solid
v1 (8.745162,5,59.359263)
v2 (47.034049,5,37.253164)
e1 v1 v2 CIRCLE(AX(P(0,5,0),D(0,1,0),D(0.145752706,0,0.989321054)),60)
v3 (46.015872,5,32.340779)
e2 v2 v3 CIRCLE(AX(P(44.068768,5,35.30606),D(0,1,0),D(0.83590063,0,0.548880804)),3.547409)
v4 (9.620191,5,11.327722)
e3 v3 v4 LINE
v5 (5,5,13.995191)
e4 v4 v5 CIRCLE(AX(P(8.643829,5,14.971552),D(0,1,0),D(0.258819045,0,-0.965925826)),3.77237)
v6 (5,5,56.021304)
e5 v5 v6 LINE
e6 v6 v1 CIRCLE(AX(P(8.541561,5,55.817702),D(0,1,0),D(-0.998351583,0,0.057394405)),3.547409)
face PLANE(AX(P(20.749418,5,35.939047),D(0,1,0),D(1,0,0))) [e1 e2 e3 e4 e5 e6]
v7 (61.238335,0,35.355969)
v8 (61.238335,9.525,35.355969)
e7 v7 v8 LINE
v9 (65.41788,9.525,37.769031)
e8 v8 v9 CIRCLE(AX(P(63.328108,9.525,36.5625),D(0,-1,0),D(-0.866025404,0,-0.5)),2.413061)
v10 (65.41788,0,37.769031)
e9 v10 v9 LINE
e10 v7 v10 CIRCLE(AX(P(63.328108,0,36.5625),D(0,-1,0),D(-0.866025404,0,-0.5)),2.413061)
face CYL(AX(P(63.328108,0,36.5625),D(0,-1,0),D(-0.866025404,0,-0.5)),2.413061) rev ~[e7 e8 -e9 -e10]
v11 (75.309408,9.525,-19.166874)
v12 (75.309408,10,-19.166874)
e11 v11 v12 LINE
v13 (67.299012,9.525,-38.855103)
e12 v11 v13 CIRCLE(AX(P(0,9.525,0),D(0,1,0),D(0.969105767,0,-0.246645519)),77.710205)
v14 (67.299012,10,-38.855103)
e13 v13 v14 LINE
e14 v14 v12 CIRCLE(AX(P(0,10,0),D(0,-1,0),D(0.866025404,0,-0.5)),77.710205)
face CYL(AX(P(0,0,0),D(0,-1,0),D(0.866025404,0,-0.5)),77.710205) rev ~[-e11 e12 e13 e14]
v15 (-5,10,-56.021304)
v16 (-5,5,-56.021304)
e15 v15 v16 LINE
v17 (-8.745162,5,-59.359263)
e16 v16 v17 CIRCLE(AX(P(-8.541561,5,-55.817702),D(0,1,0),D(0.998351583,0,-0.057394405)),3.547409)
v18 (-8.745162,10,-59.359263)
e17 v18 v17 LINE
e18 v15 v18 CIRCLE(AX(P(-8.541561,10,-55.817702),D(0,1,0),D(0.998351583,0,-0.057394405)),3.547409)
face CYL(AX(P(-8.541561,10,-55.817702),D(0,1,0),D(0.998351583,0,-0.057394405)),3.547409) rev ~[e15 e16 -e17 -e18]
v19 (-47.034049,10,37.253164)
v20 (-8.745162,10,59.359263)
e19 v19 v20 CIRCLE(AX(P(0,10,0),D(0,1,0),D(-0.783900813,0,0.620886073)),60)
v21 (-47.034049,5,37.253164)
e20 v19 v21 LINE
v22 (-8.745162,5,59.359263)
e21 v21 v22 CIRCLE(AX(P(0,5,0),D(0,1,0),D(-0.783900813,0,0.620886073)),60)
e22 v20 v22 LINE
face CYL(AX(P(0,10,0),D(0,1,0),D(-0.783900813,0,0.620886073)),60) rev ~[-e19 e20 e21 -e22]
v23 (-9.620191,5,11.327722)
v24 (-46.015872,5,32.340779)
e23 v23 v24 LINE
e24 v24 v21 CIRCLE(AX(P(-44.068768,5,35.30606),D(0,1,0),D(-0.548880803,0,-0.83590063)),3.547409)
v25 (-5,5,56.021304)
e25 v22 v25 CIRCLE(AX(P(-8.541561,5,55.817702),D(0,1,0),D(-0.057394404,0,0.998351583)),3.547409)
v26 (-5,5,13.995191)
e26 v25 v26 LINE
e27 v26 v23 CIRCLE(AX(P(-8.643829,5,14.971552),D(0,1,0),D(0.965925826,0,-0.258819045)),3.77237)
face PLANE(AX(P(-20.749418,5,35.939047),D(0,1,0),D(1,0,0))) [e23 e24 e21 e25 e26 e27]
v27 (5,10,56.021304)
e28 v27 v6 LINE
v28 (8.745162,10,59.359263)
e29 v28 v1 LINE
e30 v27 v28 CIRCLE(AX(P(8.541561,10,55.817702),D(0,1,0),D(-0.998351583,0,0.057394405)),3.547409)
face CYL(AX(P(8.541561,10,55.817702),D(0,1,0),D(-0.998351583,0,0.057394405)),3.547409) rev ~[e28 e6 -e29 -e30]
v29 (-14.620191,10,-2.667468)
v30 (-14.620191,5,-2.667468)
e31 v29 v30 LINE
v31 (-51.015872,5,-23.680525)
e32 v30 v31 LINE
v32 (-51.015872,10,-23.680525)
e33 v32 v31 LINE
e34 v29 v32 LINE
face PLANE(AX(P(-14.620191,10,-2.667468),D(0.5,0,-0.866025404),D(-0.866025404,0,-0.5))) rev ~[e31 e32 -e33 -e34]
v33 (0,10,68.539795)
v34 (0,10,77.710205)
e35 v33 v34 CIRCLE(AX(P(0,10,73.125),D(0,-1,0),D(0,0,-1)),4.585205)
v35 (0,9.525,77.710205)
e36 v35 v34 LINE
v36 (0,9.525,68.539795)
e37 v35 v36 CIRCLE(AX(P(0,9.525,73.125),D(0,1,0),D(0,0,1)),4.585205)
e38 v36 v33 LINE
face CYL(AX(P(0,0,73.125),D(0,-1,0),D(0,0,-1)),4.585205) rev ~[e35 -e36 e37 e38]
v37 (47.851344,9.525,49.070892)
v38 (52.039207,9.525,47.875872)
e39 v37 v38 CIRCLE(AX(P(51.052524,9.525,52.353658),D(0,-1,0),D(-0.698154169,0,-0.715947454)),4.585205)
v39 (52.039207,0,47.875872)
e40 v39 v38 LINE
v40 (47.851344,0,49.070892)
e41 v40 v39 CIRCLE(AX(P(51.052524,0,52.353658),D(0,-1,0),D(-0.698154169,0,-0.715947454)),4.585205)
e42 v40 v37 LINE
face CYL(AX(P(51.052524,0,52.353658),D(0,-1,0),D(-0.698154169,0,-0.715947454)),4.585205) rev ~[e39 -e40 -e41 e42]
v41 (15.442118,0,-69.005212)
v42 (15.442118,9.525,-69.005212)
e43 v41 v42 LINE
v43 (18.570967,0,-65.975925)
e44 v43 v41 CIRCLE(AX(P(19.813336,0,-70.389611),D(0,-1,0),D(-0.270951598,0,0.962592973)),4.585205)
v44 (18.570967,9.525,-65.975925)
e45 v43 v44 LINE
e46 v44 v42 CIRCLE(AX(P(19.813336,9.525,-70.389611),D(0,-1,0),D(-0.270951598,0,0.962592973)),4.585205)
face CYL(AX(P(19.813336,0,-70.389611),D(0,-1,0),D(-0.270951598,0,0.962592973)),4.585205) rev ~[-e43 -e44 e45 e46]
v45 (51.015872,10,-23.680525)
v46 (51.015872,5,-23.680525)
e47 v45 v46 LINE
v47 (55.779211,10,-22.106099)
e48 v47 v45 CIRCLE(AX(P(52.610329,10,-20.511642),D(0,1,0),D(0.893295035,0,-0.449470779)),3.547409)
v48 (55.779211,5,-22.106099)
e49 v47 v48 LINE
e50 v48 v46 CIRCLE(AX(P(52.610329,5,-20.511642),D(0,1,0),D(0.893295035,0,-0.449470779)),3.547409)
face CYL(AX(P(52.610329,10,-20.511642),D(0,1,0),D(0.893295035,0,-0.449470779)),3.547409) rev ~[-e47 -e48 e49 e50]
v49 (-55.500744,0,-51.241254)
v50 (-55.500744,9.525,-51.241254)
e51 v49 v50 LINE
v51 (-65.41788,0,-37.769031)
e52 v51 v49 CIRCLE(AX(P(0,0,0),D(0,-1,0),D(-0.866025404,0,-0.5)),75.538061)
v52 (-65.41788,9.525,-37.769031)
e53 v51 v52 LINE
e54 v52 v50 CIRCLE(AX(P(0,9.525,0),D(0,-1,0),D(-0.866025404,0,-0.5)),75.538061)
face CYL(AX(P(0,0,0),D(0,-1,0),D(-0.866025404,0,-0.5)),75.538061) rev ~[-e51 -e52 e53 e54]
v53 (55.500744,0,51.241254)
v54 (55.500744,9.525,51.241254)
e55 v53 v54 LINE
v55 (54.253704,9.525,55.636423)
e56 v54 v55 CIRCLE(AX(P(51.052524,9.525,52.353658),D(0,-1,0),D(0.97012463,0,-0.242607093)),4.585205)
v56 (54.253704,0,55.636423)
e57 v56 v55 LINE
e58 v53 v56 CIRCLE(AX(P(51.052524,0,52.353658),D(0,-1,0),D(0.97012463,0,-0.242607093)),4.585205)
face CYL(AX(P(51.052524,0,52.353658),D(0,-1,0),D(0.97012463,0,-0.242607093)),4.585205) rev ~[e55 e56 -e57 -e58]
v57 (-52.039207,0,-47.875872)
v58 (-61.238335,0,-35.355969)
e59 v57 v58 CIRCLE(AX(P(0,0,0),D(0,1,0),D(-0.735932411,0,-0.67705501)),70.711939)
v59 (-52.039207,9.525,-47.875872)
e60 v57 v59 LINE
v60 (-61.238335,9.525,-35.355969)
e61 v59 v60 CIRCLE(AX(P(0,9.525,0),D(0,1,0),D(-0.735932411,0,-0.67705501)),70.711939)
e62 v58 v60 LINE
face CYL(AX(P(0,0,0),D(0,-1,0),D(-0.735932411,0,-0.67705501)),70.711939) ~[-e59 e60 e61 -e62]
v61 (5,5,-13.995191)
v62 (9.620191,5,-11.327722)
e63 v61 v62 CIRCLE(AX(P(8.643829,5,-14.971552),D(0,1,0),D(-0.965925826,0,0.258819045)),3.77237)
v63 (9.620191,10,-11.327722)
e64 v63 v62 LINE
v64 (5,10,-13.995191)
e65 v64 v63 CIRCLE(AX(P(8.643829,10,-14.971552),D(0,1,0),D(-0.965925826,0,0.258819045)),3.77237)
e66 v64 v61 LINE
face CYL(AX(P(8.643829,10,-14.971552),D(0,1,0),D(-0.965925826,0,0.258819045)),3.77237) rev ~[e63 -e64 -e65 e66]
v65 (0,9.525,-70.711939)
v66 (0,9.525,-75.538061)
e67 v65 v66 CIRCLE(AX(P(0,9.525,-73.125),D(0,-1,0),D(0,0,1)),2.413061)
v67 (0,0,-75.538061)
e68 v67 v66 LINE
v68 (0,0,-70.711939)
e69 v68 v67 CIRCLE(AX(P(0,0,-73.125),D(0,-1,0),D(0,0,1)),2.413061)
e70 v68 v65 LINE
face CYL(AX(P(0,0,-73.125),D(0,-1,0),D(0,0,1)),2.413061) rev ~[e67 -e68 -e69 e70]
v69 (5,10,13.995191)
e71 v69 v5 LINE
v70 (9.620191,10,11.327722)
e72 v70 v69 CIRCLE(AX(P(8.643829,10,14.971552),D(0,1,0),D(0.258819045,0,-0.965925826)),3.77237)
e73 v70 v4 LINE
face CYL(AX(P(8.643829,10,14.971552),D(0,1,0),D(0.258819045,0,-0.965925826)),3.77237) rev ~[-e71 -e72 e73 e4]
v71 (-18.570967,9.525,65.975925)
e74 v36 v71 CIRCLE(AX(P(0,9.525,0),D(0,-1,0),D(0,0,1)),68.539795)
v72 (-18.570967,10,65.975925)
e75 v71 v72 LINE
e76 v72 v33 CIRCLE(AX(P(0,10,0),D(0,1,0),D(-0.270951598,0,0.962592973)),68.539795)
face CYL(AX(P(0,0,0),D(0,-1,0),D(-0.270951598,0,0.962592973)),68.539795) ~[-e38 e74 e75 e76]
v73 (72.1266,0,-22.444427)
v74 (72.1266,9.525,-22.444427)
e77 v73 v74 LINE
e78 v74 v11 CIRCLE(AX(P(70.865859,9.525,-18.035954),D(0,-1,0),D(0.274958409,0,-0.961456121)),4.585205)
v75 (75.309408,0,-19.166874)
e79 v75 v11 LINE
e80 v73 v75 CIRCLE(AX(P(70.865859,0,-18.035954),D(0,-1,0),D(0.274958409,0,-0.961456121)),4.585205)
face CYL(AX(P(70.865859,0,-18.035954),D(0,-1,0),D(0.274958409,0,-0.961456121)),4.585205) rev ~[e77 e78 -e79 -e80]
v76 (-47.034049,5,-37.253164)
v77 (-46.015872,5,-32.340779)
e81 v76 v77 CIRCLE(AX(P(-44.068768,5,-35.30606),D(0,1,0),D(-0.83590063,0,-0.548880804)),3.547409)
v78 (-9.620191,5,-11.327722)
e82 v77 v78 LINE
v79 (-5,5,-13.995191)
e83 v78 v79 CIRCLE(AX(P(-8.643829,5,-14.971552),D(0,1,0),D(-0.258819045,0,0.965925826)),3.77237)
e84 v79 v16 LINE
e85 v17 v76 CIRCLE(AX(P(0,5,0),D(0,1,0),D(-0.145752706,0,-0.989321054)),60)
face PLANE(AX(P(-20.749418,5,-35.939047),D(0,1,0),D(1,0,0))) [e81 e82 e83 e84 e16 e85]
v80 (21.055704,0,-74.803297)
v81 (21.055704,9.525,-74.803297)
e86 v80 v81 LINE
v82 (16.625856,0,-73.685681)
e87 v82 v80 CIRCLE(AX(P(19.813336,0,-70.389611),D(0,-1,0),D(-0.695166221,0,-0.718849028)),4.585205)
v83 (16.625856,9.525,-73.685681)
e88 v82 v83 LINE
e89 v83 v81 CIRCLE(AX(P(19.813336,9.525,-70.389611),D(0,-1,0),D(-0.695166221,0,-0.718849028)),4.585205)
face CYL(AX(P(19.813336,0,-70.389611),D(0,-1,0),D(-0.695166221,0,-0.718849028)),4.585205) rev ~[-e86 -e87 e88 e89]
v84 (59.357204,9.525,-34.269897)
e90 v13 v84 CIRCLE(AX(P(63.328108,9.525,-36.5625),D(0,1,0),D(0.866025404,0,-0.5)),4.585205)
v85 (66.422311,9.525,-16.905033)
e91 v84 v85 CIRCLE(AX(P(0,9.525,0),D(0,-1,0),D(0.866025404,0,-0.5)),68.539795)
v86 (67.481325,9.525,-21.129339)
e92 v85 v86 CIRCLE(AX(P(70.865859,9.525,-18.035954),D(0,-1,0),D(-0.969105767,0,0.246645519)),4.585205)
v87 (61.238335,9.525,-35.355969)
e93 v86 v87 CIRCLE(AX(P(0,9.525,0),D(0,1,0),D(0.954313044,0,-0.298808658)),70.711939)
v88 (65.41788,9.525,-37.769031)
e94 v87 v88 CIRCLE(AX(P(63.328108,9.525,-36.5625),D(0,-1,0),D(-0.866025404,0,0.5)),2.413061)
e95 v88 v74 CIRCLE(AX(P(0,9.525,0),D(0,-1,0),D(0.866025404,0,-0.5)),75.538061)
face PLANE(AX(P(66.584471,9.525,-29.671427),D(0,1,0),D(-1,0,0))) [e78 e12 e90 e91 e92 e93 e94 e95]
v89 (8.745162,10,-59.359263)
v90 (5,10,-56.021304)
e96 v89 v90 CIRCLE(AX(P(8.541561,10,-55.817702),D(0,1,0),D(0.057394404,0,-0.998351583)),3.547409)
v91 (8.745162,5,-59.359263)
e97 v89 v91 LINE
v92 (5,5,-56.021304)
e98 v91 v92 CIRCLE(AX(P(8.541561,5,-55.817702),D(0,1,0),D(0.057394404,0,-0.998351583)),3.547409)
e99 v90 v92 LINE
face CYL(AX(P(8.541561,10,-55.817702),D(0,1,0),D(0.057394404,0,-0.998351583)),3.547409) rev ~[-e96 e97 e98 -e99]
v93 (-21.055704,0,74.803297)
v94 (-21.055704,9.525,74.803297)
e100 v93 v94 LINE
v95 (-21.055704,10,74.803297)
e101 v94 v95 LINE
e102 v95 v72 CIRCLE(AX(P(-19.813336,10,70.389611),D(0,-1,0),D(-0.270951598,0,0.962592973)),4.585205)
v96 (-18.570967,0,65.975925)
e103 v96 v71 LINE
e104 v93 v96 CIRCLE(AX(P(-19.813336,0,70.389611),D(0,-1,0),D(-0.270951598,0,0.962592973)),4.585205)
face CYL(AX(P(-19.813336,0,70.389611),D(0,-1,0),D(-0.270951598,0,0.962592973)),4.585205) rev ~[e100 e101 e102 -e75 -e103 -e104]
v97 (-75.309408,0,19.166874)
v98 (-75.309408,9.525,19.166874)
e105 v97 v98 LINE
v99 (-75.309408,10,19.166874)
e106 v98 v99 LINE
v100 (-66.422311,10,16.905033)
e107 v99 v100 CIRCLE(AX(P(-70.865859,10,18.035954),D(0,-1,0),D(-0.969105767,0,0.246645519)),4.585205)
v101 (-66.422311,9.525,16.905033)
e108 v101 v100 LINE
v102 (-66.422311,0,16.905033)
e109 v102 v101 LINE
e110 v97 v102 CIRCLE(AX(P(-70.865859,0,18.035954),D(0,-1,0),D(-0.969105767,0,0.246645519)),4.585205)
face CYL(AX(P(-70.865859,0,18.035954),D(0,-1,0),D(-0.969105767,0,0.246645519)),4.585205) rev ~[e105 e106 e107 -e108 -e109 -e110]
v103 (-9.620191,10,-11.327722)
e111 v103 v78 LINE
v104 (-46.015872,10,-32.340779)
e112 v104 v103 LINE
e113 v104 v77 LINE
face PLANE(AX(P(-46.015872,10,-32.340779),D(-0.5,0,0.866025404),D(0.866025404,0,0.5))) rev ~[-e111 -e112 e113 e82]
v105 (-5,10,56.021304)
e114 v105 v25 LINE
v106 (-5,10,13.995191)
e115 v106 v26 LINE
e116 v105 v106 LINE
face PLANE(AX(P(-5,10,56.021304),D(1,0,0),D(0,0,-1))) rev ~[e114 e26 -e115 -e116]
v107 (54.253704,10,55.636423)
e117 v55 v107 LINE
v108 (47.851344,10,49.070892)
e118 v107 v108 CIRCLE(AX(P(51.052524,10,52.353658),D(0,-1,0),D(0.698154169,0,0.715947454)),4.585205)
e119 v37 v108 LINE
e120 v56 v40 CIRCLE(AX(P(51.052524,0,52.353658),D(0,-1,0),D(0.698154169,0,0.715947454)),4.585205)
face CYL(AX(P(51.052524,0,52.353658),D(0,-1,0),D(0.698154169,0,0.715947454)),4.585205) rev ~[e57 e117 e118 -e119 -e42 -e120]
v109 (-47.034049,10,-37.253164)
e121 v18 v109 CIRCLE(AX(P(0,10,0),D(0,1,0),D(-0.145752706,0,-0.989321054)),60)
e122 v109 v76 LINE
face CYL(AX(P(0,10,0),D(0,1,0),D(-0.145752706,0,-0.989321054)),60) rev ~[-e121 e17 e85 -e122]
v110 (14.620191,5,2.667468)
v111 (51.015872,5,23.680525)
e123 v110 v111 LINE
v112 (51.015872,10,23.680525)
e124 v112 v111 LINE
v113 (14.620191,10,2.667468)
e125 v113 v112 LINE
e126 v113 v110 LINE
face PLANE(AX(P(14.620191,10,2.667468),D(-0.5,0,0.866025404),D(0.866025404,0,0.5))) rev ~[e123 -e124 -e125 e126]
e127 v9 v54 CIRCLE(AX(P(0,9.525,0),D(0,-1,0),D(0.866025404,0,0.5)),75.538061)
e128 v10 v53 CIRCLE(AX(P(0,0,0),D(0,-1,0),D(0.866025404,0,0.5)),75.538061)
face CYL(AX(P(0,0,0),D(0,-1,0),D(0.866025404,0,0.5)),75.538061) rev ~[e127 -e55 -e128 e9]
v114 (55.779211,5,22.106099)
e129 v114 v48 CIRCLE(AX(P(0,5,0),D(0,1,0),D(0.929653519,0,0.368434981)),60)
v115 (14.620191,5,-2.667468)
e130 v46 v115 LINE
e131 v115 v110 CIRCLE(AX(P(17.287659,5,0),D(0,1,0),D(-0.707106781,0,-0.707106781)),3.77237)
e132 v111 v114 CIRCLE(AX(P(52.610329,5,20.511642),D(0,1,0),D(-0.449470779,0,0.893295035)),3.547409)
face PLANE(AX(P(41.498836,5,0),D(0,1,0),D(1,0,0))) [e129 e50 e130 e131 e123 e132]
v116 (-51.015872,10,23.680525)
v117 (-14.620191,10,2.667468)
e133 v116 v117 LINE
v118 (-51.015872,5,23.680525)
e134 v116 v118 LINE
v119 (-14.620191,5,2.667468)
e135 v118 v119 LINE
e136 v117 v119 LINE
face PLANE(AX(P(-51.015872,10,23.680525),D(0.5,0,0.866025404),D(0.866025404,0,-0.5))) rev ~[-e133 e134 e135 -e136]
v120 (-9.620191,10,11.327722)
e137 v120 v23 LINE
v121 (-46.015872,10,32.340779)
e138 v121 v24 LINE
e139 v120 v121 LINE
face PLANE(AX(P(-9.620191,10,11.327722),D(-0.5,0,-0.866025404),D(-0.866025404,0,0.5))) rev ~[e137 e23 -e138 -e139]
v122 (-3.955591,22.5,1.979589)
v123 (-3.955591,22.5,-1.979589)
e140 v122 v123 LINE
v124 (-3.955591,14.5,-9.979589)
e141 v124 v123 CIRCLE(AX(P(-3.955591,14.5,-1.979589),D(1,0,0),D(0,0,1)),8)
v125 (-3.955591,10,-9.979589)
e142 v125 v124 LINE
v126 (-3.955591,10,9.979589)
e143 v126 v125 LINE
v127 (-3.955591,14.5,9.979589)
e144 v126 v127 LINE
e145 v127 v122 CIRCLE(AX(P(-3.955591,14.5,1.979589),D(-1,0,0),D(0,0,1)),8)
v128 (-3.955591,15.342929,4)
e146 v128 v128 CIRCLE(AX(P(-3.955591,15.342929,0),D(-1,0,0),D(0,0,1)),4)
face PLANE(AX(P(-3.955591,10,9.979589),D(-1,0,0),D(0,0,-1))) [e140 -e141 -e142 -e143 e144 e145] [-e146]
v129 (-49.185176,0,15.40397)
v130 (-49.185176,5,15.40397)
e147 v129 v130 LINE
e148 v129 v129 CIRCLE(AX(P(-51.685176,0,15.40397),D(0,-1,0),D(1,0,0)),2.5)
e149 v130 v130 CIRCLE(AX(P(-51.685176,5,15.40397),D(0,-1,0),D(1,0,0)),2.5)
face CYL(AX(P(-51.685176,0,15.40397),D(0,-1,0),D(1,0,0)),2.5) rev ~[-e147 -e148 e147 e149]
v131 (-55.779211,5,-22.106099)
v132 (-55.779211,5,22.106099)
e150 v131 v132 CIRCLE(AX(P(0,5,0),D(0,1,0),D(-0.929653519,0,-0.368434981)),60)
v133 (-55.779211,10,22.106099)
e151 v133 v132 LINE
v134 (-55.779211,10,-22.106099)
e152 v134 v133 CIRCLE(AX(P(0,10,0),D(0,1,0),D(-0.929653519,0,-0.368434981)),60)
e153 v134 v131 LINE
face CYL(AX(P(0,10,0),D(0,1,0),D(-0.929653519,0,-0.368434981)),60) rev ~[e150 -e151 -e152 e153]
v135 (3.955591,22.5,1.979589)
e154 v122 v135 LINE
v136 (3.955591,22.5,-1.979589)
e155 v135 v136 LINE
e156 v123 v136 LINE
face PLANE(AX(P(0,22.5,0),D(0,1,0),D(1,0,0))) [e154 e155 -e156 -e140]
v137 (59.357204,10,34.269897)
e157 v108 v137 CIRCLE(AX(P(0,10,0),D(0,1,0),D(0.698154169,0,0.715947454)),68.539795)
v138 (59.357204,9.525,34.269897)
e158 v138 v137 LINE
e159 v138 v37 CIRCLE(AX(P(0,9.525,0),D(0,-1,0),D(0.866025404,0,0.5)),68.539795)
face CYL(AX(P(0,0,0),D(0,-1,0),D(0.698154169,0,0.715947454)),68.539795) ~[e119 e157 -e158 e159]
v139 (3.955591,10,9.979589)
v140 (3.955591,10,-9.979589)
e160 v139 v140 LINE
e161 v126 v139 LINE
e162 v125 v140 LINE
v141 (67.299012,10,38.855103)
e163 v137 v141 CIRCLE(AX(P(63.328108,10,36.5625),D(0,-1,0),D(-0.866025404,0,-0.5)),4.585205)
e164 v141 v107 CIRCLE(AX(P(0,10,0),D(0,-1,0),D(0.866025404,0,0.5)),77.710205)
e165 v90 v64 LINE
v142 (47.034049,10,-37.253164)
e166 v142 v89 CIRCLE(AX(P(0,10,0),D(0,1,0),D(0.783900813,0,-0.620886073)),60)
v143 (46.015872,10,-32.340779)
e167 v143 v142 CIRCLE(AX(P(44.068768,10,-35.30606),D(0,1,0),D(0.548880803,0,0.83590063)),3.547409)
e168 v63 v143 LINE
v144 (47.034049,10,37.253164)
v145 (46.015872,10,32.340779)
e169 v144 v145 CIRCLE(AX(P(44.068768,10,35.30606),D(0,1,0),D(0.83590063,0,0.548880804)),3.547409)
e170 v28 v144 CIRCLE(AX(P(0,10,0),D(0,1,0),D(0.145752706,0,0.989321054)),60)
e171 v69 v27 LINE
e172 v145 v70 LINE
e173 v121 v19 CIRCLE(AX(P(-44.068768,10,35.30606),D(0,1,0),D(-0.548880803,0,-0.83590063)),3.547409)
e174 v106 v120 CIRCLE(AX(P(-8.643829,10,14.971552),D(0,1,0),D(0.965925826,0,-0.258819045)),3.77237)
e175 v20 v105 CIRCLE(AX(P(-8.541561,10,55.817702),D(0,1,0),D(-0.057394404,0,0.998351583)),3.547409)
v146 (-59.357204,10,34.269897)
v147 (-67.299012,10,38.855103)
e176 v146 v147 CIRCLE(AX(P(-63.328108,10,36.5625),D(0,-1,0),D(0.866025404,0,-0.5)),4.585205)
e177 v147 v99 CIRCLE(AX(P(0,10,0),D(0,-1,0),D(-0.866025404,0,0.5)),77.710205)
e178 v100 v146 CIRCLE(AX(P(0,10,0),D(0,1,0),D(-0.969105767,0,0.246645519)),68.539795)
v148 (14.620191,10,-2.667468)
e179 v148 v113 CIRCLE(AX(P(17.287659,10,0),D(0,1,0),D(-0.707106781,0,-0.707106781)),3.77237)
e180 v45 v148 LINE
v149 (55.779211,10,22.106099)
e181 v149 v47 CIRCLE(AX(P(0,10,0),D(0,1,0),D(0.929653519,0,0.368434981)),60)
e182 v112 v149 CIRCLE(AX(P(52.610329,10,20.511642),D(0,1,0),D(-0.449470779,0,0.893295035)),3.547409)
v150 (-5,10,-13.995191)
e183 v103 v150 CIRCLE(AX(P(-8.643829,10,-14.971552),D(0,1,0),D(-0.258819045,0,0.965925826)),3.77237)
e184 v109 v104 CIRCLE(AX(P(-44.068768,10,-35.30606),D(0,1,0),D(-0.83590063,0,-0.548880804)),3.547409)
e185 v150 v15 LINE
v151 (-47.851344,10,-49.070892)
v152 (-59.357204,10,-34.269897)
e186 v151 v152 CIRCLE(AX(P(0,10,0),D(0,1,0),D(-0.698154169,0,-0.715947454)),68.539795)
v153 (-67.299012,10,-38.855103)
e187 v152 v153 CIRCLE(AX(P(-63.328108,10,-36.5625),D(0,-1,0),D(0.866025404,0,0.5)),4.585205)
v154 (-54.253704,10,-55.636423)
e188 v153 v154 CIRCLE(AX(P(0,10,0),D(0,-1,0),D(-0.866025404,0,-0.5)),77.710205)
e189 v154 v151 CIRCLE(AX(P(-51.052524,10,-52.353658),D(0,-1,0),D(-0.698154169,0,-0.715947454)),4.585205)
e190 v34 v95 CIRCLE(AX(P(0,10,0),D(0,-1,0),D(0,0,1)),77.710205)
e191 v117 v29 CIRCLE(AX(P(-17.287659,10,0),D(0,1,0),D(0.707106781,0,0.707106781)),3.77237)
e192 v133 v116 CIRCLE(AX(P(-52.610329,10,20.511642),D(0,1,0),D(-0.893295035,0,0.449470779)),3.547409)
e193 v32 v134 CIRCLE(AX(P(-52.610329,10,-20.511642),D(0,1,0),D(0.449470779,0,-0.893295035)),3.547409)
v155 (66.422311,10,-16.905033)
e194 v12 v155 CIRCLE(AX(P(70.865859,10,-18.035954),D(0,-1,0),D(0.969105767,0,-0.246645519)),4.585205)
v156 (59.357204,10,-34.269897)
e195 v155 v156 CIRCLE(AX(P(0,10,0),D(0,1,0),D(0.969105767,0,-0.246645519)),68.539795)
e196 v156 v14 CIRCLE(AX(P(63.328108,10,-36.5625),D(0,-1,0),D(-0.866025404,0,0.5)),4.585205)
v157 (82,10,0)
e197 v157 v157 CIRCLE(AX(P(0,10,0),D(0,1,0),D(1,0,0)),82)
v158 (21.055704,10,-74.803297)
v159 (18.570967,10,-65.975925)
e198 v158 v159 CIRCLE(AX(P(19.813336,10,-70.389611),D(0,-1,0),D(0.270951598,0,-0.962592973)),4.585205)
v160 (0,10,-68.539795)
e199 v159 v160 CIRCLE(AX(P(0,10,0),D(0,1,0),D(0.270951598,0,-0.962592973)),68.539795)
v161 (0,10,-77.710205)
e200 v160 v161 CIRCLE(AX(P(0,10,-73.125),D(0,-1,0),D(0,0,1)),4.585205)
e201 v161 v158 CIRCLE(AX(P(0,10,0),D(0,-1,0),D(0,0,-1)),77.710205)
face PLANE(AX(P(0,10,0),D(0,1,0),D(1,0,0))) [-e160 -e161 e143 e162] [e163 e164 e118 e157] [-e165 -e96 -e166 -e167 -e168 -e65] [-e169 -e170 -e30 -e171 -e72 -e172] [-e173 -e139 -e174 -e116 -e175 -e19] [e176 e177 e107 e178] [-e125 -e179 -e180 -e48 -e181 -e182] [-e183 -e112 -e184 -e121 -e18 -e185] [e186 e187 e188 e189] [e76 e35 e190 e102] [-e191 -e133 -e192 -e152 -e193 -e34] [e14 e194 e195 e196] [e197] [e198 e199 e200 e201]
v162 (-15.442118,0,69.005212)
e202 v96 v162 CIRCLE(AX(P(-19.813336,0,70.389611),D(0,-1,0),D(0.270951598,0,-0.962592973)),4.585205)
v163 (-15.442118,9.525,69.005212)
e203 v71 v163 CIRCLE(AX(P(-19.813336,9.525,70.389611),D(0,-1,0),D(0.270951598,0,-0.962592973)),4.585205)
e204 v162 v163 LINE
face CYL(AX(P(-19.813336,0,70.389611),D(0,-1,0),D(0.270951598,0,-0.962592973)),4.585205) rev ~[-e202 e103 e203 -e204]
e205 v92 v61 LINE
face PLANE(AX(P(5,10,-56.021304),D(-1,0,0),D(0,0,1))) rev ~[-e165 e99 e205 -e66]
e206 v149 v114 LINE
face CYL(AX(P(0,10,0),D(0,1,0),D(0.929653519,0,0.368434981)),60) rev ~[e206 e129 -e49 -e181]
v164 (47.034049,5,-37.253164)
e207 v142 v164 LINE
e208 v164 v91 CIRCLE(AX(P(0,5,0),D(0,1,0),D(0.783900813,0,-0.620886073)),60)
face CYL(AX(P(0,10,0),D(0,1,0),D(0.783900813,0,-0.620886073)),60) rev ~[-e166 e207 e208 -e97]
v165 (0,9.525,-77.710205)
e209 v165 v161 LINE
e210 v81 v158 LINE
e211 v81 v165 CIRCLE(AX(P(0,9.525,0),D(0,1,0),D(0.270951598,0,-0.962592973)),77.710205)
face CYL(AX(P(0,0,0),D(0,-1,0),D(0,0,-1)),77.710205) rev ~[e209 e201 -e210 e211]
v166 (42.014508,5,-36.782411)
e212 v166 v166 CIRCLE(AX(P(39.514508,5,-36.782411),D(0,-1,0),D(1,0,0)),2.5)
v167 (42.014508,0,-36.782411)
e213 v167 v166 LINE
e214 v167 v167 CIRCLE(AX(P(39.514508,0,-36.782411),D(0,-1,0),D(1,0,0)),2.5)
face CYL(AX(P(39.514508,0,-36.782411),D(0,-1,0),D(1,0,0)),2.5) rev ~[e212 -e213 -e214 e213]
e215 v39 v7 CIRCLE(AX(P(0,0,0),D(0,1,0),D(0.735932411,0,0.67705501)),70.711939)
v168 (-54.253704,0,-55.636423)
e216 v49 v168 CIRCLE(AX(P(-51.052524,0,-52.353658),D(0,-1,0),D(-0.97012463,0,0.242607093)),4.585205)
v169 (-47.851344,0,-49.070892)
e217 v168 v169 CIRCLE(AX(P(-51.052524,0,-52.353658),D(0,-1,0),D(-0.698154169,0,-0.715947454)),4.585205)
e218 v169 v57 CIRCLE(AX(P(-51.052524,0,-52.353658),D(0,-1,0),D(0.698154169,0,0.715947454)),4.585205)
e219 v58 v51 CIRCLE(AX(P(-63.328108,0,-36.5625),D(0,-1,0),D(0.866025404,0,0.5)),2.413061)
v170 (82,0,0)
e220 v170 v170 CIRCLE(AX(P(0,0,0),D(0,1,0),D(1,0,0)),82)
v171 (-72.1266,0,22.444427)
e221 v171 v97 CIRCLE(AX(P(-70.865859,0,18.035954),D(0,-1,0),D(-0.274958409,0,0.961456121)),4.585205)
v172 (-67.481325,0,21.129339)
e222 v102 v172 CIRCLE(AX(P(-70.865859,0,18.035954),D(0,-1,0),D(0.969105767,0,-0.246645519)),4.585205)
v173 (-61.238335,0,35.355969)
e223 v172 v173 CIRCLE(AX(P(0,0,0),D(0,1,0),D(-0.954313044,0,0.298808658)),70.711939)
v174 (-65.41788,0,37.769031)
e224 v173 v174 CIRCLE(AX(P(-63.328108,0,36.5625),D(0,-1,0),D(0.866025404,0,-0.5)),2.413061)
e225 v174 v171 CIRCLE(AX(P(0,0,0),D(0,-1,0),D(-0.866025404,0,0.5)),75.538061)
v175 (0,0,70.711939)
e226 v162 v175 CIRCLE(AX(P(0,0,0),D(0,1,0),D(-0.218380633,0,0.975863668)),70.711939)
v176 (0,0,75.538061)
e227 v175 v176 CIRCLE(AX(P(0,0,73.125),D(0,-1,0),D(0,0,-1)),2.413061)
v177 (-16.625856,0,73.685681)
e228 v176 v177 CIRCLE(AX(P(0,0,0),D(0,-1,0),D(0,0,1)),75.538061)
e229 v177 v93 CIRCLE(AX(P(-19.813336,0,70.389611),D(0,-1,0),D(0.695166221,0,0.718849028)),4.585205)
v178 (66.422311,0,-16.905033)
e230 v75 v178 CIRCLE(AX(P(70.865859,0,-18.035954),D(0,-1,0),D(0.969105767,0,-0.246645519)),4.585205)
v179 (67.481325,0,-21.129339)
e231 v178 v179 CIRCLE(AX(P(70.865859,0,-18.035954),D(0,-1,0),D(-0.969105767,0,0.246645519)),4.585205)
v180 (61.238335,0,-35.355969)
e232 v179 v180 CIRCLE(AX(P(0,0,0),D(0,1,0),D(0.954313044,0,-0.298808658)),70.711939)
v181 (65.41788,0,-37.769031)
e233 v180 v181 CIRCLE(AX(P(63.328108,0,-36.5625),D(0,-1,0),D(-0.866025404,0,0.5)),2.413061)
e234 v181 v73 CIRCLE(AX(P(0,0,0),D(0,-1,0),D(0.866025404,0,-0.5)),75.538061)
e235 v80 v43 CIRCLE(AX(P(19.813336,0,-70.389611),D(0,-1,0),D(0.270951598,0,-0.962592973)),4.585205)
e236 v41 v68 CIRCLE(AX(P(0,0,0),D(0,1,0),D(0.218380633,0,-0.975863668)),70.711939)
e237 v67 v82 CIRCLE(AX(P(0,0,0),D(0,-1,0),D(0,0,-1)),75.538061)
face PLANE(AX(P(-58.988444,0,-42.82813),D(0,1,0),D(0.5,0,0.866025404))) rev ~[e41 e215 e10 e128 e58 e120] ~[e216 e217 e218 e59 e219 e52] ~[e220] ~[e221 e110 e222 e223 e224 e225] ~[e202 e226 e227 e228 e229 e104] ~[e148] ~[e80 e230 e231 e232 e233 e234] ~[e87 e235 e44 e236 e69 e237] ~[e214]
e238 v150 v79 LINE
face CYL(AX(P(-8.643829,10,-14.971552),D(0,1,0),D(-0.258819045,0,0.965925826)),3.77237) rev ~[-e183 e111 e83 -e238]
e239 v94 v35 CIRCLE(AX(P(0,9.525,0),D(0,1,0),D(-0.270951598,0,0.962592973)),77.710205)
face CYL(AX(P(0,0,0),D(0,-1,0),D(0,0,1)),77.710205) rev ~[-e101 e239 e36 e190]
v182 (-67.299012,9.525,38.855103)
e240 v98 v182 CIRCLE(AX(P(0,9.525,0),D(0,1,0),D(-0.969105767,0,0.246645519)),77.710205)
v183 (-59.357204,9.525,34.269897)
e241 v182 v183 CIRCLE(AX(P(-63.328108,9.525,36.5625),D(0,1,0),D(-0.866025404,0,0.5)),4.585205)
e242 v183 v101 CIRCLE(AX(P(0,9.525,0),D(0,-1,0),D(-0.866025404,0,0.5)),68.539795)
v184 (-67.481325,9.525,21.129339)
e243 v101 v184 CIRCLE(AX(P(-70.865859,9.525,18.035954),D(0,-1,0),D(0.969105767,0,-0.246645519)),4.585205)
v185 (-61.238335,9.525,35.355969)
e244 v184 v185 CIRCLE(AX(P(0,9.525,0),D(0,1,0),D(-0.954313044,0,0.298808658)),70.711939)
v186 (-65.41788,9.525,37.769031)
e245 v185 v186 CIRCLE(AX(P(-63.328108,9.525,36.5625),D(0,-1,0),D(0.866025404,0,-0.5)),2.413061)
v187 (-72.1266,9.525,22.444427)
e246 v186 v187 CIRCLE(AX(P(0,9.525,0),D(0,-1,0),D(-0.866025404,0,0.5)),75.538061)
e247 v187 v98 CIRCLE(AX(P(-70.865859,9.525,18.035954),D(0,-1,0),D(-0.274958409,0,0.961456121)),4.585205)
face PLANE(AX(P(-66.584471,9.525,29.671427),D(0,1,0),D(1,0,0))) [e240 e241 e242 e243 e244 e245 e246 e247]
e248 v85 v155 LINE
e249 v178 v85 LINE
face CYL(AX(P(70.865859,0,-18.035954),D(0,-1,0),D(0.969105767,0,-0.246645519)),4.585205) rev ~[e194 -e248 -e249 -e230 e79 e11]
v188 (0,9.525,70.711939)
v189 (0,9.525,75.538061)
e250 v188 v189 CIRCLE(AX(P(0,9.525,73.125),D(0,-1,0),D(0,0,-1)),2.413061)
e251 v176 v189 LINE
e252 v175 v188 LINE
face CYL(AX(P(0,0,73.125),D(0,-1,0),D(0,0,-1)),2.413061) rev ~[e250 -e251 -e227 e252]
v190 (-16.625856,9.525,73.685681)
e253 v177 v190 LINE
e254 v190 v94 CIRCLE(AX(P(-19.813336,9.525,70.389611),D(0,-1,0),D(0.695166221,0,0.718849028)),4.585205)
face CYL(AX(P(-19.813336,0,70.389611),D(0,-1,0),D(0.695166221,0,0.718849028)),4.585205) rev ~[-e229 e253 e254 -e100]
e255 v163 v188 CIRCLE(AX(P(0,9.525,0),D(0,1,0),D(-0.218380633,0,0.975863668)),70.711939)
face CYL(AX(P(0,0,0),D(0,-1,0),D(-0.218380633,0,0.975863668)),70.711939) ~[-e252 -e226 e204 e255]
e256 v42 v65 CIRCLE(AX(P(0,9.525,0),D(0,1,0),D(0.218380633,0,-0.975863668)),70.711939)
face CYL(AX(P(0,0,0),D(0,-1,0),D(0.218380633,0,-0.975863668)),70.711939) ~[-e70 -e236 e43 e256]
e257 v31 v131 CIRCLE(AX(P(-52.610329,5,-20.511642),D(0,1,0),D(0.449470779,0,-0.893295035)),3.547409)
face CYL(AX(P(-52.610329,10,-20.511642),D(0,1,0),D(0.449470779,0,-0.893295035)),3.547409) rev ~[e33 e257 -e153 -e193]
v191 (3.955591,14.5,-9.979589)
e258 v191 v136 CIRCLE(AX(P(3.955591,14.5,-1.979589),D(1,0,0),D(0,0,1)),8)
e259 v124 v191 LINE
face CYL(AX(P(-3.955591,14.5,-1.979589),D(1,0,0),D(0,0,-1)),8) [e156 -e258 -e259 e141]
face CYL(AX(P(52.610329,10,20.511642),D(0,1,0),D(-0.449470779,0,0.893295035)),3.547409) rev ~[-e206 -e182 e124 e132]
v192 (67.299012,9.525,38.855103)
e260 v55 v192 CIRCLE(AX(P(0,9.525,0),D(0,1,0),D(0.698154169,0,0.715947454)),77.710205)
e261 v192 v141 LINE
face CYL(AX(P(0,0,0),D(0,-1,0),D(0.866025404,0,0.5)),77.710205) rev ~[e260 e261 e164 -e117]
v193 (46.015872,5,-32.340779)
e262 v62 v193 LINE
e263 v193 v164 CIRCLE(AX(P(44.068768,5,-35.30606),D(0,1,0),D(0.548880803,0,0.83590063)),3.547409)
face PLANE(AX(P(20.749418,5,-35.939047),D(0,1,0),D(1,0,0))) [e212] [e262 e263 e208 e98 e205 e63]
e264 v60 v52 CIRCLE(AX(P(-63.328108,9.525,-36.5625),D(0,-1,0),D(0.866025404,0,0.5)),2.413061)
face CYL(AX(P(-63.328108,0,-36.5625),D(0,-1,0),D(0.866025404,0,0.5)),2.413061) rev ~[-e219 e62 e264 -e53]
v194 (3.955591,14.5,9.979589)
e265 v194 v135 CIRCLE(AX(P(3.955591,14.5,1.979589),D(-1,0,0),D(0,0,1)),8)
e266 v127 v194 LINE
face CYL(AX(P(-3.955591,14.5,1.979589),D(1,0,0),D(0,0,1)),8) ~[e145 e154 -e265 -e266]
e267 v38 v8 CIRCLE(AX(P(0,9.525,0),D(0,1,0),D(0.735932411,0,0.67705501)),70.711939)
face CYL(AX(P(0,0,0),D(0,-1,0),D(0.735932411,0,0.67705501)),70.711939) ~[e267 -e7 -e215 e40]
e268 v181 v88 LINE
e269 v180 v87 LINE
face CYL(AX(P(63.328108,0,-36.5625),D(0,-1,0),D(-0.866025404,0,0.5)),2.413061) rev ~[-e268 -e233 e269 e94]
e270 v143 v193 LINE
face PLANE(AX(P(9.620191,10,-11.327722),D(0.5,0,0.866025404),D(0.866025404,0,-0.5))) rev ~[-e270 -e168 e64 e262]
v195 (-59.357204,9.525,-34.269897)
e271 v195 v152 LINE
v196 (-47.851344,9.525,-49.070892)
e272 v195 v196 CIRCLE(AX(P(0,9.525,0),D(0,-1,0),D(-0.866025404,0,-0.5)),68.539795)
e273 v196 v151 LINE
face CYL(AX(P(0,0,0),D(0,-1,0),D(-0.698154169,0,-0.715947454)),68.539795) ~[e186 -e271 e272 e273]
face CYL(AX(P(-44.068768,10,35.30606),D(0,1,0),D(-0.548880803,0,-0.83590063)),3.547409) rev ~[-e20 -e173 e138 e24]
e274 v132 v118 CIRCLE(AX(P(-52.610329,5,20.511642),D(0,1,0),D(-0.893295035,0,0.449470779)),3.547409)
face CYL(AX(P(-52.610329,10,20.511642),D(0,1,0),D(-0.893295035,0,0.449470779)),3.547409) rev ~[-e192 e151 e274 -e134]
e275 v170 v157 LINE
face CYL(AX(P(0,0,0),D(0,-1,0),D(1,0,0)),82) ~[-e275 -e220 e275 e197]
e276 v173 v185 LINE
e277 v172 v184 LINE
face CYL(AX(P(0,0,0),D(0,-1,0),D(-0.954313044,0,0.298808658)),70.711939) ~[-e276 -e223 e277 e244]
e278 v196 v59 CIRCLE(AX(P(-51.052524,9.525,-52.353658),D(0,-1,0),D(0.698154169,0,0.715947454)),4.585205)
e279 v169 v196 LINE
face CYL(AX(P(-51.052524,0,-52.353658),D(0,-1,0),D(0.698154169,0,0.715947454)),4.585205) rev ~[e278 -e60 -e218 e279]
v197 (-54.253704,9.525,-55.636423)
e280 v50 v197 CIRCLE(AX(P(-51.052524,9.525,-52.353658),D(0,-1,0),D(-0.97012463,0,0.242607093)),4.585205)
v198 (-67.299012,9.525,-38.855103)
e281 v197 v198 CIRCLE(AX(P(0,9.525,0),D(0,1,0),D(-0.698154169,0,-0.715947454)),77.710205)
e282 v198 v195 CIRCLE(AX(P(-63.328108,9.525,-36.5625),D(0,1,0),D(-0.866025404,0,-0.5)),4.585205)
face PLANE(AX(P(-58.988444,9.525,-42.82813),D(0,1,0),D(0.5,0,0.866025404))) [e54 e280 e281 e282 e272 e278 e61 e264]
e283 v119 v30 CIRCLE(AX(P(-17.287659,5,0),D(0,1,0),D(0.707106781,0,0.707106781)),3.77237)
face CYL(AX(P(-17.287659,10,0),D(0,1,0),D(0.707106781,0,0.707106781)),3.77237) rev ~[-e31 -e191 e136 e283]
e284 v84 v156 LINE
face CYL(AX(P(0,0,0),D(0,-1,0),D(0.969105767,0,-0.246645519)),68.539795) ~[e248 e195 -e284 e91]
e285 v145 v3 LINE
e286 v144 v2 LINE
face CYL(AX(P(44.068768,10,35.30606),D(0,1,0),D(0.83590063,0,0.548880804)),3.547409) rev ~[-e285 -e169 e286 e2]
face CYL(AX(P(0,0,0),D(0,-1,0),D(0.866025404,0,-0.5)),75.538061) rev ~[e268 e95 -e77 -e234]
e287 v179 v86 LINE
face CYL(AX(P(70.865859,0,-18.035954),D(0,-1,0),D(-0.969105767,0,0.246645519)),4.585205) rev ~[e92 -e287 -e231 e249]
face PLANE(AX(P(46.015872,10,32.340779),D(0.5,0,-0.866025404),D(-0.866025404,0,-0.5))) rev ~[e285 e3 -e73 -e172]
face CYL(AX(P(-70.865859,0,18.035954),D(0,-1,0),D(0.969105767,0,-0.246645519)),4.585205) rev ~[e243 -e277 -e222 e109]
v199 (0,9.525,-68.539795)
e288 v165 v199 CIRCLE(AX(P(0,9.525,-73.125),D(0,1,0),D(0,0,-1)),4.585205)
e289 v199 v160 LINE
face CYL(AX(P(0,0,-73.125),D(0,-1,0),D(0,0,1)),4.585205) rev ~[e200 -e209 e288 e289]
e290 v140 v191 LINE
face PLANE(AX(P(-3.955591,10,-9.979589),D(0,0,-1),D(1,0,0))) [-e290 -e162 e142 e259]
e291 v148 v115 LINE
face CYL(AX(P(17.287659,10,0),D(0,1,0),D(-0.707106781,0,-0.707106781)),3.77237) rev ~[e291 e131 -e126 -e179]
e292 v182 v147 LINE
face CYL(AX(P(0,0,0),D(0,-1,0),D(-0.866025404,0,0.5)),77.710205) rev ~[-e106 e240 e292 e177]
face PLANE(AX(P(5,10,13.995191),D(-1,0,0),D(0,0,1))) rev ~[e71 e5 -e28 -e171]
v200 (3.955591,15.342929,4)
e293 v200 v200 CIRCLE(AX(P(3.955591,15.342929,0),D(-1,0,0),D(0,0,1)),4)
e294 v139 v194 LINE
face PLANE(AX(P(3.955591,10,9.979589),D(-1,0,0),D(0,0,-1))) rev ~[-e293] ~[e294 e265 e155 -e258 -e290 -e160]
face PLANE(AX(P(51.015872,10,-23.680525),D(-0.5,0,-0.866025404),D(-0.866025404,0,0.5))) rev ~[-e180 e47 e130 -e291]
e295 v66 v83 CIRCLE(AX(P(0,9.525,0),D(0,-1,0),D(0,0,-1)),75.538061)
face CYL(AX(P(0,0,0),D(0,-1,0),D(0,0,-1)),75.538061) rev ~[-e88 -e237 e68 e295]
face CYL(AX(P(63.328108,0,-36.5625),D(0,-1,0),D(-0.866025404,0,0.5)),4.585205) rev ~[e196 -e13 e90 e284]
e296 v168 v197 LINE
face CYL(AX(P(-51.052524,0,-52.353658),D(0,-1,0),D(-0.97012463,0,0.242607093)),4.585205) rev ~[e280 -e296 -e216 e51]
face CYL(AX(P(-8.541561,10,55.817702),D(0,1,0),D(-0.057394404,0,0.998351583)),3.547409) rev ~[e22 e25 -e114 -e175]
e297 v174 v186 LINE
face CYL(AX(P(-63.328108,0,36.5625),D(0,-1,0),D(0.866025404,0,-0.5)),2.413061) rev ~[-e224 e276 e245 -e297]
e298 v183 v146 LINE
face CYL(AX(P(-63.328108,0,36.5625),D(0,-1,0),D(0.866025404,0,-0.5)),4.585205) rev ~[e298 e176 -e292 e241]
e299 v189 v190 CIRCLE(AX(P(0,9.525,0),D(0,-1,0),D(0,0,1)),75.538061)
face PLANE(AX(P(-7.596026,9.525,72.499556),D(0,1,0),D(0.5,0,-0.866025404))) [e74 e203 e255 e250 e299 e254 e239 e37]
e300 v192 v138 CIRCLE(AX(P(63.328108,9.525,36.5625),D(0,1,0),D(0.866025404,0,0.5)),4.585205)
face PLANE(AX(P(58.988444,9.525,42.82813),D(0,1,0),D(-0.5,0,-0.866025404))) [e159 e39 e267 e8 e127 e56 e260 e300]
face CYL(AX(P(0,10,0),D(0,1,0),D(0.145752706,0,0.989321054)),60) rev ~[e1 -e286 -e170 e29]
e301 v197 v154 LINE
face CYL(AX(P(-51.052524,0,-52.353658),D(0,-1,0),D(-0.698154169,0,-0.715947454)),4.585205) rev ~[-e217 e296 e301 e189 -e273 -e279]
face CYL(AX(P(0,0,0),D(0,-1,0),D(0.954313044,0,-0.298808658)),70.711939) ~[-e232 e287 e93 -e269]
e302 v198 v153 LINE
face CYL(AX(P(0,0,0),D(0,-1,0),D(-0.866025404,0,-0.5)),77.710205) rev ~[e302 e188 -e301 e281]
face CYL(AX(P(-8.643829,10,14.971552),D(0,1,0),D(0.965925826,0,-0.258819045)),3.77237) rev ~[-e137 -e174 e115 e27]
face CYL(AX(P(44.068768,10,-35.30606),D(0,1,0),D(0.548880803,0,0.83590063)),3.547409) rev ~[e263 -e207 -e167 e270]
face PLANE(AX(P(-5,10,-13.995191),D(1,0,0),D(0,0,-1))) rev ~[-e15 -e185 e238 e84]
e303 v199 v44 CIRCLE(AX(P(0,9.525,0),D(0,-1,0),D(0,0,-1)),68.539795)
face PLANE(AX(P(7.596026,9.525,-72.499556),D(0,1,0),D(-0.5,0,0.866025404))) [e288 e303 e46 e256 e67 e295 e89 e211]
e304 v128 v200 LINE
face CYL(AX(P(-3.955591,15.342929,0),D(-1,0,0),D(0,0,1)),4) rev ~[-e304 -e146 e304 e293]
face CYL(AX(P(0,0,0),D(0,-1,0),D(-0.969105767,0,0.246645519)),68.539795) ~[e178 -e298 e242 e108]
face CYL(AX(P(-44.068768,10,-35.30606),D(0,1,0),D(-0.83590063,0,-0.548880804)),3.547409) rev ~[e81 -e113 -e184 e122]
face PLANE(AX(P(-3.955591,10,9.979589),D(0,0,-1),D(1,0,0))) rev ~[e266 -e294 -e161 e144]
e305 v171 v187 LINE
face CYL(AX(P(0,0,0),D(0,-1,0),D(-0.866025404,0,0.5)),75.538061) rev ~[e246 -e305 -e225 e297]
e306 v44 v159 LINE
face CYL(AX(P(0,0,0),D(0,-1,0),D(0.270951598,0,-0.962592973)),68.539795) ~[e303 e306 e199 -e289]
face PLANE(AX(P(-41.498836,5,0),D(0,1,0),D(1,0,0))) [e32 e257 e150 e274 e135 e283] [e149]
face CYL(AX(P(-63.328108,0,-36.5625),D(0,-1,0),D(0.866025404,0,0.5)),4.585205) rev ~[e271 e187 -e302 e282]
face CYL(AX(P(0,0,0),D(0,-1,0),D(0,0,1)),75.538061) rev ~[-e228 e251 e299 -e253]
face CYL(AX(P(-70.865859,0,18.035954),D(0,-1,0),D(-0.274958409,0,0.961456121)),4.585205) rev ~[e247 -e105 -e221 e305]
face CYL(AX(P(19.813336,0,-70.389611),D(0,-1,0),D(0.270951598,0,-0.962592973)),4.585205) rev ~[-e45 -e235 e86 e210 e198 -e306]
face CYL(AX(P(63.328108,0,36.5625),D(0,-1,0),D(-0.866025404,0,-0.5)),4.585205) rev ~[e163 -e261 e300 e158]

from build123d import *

# Parameters (mm, degrees)
SKETCH1_R           = 82
BOSS_EXTRUDE1_DEPTH = 10
BOSS_EXTRUDE3_DEPTH = 9.525
CIRPATTERN1_COUNT   = 6
CUT_EXTRUDE1_DEPTH  = 5
SKETCH3_R           = 2.5
CUT_EXTRUDE2_DEPTH  = 5
SKETCH3_3_R         = 2.5
CUT_EXTRUDE3_DEPTH  = 5
SKETCH5_W           = 7.911182114
SKETCH5_H           = 19.959178222
BOSS_EXTRUDE5_DEPTH = 12.5
FILLET2_R           = 8
SKETCH7_R           = 4
CUT_EXTRUDE4_DEPTH  = 8.5


with BuildPart() as part:
    # Sketch1 → Boss-Extrude1 (new body)
    with BuildSketch(Plane(origin=(0, 0, 0), x_dir=(1, 0, 0), z_dir=(0, 1, 0))):
        Circle(SKETCH1_R)
        with BuildLine():
            ThreePointArc((0, -68.539794907), (4.585205093, -73.125), (0, -77.710205093))
            ThreePointArc((0, -77.710205093), (-10.627709007, -76.980047914), (-21.05570427, -74.803297343))
            ThreePointArc((-21.05570427, -74.803297343), (-24.227021824, -69.147242492), (-18.570966974, -65.975924939))
            ThreePointArc((-18.570966974, -65.975924939), (-9.373556469, -67.895801969), (0, -68.539794907))
        make_face(mode=Mode.SUBTRACT)
        with BuildLine():
            ThreePointArc((-59.357203559, -34.269897453), (-61.035505105, -40.533404092), (-67.299011744, -38.855102547))
            ThreePointArc((-67.299011744, -38.855102547), (-71.980531582, -29.286157973), (-75.309407921, -19.166873879))
            ThreePointArc((-75.309407921, -19.166873879), (-71.996779512, -13.592404889), (-66.422310522, -16.905033297))
            ThreePointArc((-66.422310522, -16.905033297), (-63.48626755, -25.830162958), (-59.357203559, -34.269897453))
        make_face(mode=Mode.SUBTRACT)
        with BuildLine():
            ThreePointArc((59.357203559, -34.269897453), (65.620710198, -32.591595908), (67.299011744, -38.855102547))
            ThreePointArc((67.299011744, -38.855102547), (61.352822575, -47.693889942), (54.25370365, -55.636423464))
            ThreePointArc((54.25370365, -55.636423464), (47.769757688, -55.554837604), (47.851343548, -49.070891641))
            ThreePointArc((47.851343548, -49.070891641), (54.112711081, -42.065639011), (59.357203559, -34.269897453))
        make_face(mode=Mode.SUBTRACT)
        with BuildLine():
            ThreePointArc((-59.357203559, 34.269897453), (-65.620710198, 32.591595908), (-67.299011744, 38.855102547))
            ThreePointArc((-67.299011744, 38.855102547), (-61.352822575, 47.693889942), (-54.25370365, 55.636423464))
            ThreePointArc((-54.25370365, 55.636423464), (-47.769757688, 55.554837604), (-47.851343548, 49.070891641))
            ThreePointArc((-47.851343548, 49.070891641), (-54.112711081, 42.065639011), (-59.357203559, 34.269897453))
        make_face(mode=Mode.SUBTRACT)
        with BuildLine():
            ThreePointArc((59.357203559, 34.269897453), (61.035505105, 40.533404092), (67.299011744, 38.855102547))
            ThreePointArc((67.299011744, 38.855102547), (71.980531582, 29.286157973), (75.309407921, 19.166873879))
            ThreePointArc((75.309407921, 19.166873879), (71.996779512, 13.592404889), (66.422310522, 16.905033297))
            ThreePointArc((66.422310522, 16.905033297), (63.48626755, 25.830162958), (59.357203559, 34.269897453))
        make_face(mode=Mode.SUBTRACT)
        with BuildLine():
            ThreePointArc((0, 68.539794907), (-4.585205093, 73.125), (0, 77.710205093))
            ThreePointArc((0, 77.710205093), (10.627709007, 76.980047914), (21.05570427, 74.803297343))
            ThreePointArc((21.05570427, 74.803297343), (24.227021824, 69.147242492), (18.570966974, 65.975924939))
            ThreePointArc((18.570966974, 65.975924939), (9.373556469, 67.895801969), (0, 68.539794907))
        make_face(mode=Mode.SUBTRACT)
    extrude(amount=BOSS_EXTRUDE1_DEPTH)

    # Sketch1_4 → Boss-Extrude3 (add)
    with BuildSketch(Plane(origin=(0, 0, 0), x_dir=(1, 0, 0), z_dir=(0, 1, 0))):
        with BuildLine():
            ThreePointArc((-75.309407921, -19.166873879), (-71.980531582, -29.286157973), (-67.299011744, -38.855102547))
            ThreePointArc((-67.299011744, -38.855102547), (-61.035505105, -40.533404092), (-59.357203559, -34.269897453))
            ThreePointArc((-59.357203559, -34.269897453), (-63.48626755, -25.830162958), (-66.422310522, -16.905033297))
            ThreePointArc((-66.422310522, -16.905033297), (-66.418285743, -19.150940539), (-67.48132535, -21.129339471))
            ThreePointArc((-67.48132535, -21.129339471), (-64.751733563, -28.414631056), (-61.238335159, -35.355969289))
            ThreePointArc((-61.238335159, -35.355969289), (-62.121576941, -38.652272492), (-65.417880144, -37.769030711))
            ThreePointArc((-65.417880144, -37.769030711), (-69.197773577, -30.293016611), (-72.126599919, -22.444427093))
            ThreePointArc((-72.126599919, -22.444427093), (-74.155284422, -21.230290389), (-75.309407921, -19.166873879))
        make_face()
    boss_extrude3 = extrude(amount=BOSS_EXTRUDE3_DEPTH)

    # CirPattern1: Boss-Extrude3 ×6 about axis
    cirpattern1_axis = Axis((0, 10, 0), (0, 1, 0))
    for i in range(1, CIRPATTERN1_COUNT):
        add(boss_extrude3.rotate(cirpattern1_axis, i * 360 / CIRPATTERN1_COUNT))

    # Sketch2 → Cut-Extrude1 (cut)
    with BuildSketch(Plane(origin=(0, 10, 0), x_dir=(1, 0, 0), z_dir=(0, 1, 0))):
        with BuildLine():
            Line((-14.620190528, 2.667468245), (-51.015872171, 23.680524839))
            ThreePointArc((-51.015872171, 23.680524839), (-53.723615936, 23.879831653), (-55.779211114, 22.106098875))
            ThreePointArc((-55.779211114, 22.106098875), (-60, 0), (-55.779211114, -22.106098875))
            ThreePointArc((-55.779211114, -22.106098875), (-53.723615936, -23.879831653), (-51.015872171, -23.680524839))
            Line((-51.015872171, -23.680524839), (-14.620190528, -2.667468245))
            ThreePointArc((-14.620190528, -2.667468245), (-13.515289004, 0), (-14.620190528, 2.667468245))
        make_face()
        with BuildLine():
            Line((-5, 13.995190528), (-5, 56.021303716))
            ThreePointArc((-5, 56.021303716), (-6.181267118, 58.46593201), (-8.745162353, 59.359263266))
            ThreePointArc((-8.745162353, 59.359263266), (-30, 51.961524227), (-47.034048761, 37.253164391))
            ThreePointArc((-47.034048761, 37.253164391), (-47.542348818, 34.586100357), (-46.015872171, 32.340778877))
            Line((-46.015872171, 32.340778877), (-9.620190528, 11.327722283))
            ThreePointArc((-9.620190528, 11.327722283), (-6.757644502, 11.704583617), (-5, 13.995190528))
        make_face()
        with BuildLine():
            Line((-9.620190528, -11.327722283), (-46.015872171, -32.340778877))
            ThreePointArc((-46.015872171, -32.340778877), (-47.542348818, -34.586100357), (-47.034048761, -37.253164391))
            ThreePointArc((-47.034048761, -37.253164391), (-30, -51.961524227), (-8.745162353, -59.359263266))
            ThreePointArc((-8.745162353, -59.359263266), (-6.181267118, -58.46593201), (-5, -56.021303716))
            Line((-5, -56.021303716), (-5, -13.995190528))
            ThreePointArc((-5, -13.995190528), (-6.757644502, -11.704583617), (-9.620190528, -11.327722283))
        make_face()
        with BuildLine():
            Line((9.620190528, 11.327722283), (46.015872171, 32.340778877))
            ThreePointArc((46.015872171, 32.340778877), (47.542348818, 34.586100357), (47.034048761, 37.253164391))
            ThreePointArc((47.034048761, 37.253164391), (30, 51.961524227), (8.745162353, 59.359263266))
            ThreePointArc((8.745162353, 59.359263266), (6.181267118, 58.46593201), (5, 56.021303716))
            Line((5, 56.021303716), (5, 13.995190528))
            ThreePointArc((5, 13.995190528), (6.757644502, 11.704583617), (9.620190528, 11.327722283))
        make_face()
        with BuildLine():
            Line((14.620190528, -2.667468245), (51.015872171, -23.680524839))
            ThreePointArc((51.015872171, -23.680524839), (53.723615936, -23.879831653), (55.779211114, -22.106098875))
            ThreePointArc((55.779211114, -22.106098875), (60, 0), (55.779211114, 22.106098875))
            ThreePointArc((55.779211114, 22.106098875), (53.723615936, 23.879831653), (51.015872171, 23.680524839))
            Line((51.015872171, 23.680524839), (14.620190528, 2.667468245))
            ThreePointArc((14.620190528, 2.667468245), (13.515289004, 0), (14.620190528, -2.667468245))
        make_face()
        with BuildLine():
            Line((5, -13.995190528), (5, -56.021303716))
            ThreePointArc((5, -56.021303716), (6.181267118, -58.46593201), (8.745162353, -59.359263266))
            ThreePointArc((8.745162353, -59.359263266), (30, -51.961524227), (47.034048761, -37.253164391))
            ThreePointArc((47.034048761, -37.253164391), (47.542348818, -34.586100357), (46.015872171, -32.340778877))
            Line((46.015872171, -32.340778877), (9.620190528, -11.327722283))
            ThreePointArc((9.620190528, -11.327722283), (6.757644502, -11.704583617), (5, -13.995190528))
        make_face()
    extrude(amount=-CUT_EXTRUDE1_DEPTH, mode=Mode.SUBTRACT)

    # Sketch3 → Cut-Extrude2 (cut)
    with BuildSketch(Plane.XZ):
        with Locations((-51.685176347, 15.403969857)):
            Circle(SKETCH3_R)
    extrude(amount=-CUT_EXTRUDE2_DEPTH, mode=Mode.SUBTRACT)

    # Sketch3_3 → Cut-Extrude3 (cut)
    with BuildSketch(Plane.XZ):
        with Locations((39.514507533, -36.782411469)):
            Circle(SKETCH3_3_R)
    extrude(amount=-CUT_EXTRUDE3_DEPTH, mode=Mode.SUBTRACT)

    # Sketch5 → Boss-Extrude5 (add)
    with BuildSketch(Plane(origin=(0, 10, 0), x_dir=(1, 0, 0), z_dir=(0, 1, 0))):
        Rectangle(SKETCH5_W, SKETCH5_H)
    extrude(amount=BOSS_EXTRUDE5_DEPTH)

    # Fillet2
    fillet2_edges = [part.edges().sort_by_distance(p)[0] for p in [
        (0, 22.5, -9.979589111),
        (0, 22.5, 9.979589111),
    ]]
    fillet(fillet2_edges, radius=FILLET2_R)

    # Sketch7 → Cut-Extrude4 (cut)
    with BuildSketch(Plane.ZY.offset(3.955591057)):
        with Locations((0, 15.342929393)):
            Circle(SKETCH7_R)
    extrude(amount=-CUT_EXTRUDE4_DEPTH, mode=Mode.SUBTRACT)


solid = part.part
